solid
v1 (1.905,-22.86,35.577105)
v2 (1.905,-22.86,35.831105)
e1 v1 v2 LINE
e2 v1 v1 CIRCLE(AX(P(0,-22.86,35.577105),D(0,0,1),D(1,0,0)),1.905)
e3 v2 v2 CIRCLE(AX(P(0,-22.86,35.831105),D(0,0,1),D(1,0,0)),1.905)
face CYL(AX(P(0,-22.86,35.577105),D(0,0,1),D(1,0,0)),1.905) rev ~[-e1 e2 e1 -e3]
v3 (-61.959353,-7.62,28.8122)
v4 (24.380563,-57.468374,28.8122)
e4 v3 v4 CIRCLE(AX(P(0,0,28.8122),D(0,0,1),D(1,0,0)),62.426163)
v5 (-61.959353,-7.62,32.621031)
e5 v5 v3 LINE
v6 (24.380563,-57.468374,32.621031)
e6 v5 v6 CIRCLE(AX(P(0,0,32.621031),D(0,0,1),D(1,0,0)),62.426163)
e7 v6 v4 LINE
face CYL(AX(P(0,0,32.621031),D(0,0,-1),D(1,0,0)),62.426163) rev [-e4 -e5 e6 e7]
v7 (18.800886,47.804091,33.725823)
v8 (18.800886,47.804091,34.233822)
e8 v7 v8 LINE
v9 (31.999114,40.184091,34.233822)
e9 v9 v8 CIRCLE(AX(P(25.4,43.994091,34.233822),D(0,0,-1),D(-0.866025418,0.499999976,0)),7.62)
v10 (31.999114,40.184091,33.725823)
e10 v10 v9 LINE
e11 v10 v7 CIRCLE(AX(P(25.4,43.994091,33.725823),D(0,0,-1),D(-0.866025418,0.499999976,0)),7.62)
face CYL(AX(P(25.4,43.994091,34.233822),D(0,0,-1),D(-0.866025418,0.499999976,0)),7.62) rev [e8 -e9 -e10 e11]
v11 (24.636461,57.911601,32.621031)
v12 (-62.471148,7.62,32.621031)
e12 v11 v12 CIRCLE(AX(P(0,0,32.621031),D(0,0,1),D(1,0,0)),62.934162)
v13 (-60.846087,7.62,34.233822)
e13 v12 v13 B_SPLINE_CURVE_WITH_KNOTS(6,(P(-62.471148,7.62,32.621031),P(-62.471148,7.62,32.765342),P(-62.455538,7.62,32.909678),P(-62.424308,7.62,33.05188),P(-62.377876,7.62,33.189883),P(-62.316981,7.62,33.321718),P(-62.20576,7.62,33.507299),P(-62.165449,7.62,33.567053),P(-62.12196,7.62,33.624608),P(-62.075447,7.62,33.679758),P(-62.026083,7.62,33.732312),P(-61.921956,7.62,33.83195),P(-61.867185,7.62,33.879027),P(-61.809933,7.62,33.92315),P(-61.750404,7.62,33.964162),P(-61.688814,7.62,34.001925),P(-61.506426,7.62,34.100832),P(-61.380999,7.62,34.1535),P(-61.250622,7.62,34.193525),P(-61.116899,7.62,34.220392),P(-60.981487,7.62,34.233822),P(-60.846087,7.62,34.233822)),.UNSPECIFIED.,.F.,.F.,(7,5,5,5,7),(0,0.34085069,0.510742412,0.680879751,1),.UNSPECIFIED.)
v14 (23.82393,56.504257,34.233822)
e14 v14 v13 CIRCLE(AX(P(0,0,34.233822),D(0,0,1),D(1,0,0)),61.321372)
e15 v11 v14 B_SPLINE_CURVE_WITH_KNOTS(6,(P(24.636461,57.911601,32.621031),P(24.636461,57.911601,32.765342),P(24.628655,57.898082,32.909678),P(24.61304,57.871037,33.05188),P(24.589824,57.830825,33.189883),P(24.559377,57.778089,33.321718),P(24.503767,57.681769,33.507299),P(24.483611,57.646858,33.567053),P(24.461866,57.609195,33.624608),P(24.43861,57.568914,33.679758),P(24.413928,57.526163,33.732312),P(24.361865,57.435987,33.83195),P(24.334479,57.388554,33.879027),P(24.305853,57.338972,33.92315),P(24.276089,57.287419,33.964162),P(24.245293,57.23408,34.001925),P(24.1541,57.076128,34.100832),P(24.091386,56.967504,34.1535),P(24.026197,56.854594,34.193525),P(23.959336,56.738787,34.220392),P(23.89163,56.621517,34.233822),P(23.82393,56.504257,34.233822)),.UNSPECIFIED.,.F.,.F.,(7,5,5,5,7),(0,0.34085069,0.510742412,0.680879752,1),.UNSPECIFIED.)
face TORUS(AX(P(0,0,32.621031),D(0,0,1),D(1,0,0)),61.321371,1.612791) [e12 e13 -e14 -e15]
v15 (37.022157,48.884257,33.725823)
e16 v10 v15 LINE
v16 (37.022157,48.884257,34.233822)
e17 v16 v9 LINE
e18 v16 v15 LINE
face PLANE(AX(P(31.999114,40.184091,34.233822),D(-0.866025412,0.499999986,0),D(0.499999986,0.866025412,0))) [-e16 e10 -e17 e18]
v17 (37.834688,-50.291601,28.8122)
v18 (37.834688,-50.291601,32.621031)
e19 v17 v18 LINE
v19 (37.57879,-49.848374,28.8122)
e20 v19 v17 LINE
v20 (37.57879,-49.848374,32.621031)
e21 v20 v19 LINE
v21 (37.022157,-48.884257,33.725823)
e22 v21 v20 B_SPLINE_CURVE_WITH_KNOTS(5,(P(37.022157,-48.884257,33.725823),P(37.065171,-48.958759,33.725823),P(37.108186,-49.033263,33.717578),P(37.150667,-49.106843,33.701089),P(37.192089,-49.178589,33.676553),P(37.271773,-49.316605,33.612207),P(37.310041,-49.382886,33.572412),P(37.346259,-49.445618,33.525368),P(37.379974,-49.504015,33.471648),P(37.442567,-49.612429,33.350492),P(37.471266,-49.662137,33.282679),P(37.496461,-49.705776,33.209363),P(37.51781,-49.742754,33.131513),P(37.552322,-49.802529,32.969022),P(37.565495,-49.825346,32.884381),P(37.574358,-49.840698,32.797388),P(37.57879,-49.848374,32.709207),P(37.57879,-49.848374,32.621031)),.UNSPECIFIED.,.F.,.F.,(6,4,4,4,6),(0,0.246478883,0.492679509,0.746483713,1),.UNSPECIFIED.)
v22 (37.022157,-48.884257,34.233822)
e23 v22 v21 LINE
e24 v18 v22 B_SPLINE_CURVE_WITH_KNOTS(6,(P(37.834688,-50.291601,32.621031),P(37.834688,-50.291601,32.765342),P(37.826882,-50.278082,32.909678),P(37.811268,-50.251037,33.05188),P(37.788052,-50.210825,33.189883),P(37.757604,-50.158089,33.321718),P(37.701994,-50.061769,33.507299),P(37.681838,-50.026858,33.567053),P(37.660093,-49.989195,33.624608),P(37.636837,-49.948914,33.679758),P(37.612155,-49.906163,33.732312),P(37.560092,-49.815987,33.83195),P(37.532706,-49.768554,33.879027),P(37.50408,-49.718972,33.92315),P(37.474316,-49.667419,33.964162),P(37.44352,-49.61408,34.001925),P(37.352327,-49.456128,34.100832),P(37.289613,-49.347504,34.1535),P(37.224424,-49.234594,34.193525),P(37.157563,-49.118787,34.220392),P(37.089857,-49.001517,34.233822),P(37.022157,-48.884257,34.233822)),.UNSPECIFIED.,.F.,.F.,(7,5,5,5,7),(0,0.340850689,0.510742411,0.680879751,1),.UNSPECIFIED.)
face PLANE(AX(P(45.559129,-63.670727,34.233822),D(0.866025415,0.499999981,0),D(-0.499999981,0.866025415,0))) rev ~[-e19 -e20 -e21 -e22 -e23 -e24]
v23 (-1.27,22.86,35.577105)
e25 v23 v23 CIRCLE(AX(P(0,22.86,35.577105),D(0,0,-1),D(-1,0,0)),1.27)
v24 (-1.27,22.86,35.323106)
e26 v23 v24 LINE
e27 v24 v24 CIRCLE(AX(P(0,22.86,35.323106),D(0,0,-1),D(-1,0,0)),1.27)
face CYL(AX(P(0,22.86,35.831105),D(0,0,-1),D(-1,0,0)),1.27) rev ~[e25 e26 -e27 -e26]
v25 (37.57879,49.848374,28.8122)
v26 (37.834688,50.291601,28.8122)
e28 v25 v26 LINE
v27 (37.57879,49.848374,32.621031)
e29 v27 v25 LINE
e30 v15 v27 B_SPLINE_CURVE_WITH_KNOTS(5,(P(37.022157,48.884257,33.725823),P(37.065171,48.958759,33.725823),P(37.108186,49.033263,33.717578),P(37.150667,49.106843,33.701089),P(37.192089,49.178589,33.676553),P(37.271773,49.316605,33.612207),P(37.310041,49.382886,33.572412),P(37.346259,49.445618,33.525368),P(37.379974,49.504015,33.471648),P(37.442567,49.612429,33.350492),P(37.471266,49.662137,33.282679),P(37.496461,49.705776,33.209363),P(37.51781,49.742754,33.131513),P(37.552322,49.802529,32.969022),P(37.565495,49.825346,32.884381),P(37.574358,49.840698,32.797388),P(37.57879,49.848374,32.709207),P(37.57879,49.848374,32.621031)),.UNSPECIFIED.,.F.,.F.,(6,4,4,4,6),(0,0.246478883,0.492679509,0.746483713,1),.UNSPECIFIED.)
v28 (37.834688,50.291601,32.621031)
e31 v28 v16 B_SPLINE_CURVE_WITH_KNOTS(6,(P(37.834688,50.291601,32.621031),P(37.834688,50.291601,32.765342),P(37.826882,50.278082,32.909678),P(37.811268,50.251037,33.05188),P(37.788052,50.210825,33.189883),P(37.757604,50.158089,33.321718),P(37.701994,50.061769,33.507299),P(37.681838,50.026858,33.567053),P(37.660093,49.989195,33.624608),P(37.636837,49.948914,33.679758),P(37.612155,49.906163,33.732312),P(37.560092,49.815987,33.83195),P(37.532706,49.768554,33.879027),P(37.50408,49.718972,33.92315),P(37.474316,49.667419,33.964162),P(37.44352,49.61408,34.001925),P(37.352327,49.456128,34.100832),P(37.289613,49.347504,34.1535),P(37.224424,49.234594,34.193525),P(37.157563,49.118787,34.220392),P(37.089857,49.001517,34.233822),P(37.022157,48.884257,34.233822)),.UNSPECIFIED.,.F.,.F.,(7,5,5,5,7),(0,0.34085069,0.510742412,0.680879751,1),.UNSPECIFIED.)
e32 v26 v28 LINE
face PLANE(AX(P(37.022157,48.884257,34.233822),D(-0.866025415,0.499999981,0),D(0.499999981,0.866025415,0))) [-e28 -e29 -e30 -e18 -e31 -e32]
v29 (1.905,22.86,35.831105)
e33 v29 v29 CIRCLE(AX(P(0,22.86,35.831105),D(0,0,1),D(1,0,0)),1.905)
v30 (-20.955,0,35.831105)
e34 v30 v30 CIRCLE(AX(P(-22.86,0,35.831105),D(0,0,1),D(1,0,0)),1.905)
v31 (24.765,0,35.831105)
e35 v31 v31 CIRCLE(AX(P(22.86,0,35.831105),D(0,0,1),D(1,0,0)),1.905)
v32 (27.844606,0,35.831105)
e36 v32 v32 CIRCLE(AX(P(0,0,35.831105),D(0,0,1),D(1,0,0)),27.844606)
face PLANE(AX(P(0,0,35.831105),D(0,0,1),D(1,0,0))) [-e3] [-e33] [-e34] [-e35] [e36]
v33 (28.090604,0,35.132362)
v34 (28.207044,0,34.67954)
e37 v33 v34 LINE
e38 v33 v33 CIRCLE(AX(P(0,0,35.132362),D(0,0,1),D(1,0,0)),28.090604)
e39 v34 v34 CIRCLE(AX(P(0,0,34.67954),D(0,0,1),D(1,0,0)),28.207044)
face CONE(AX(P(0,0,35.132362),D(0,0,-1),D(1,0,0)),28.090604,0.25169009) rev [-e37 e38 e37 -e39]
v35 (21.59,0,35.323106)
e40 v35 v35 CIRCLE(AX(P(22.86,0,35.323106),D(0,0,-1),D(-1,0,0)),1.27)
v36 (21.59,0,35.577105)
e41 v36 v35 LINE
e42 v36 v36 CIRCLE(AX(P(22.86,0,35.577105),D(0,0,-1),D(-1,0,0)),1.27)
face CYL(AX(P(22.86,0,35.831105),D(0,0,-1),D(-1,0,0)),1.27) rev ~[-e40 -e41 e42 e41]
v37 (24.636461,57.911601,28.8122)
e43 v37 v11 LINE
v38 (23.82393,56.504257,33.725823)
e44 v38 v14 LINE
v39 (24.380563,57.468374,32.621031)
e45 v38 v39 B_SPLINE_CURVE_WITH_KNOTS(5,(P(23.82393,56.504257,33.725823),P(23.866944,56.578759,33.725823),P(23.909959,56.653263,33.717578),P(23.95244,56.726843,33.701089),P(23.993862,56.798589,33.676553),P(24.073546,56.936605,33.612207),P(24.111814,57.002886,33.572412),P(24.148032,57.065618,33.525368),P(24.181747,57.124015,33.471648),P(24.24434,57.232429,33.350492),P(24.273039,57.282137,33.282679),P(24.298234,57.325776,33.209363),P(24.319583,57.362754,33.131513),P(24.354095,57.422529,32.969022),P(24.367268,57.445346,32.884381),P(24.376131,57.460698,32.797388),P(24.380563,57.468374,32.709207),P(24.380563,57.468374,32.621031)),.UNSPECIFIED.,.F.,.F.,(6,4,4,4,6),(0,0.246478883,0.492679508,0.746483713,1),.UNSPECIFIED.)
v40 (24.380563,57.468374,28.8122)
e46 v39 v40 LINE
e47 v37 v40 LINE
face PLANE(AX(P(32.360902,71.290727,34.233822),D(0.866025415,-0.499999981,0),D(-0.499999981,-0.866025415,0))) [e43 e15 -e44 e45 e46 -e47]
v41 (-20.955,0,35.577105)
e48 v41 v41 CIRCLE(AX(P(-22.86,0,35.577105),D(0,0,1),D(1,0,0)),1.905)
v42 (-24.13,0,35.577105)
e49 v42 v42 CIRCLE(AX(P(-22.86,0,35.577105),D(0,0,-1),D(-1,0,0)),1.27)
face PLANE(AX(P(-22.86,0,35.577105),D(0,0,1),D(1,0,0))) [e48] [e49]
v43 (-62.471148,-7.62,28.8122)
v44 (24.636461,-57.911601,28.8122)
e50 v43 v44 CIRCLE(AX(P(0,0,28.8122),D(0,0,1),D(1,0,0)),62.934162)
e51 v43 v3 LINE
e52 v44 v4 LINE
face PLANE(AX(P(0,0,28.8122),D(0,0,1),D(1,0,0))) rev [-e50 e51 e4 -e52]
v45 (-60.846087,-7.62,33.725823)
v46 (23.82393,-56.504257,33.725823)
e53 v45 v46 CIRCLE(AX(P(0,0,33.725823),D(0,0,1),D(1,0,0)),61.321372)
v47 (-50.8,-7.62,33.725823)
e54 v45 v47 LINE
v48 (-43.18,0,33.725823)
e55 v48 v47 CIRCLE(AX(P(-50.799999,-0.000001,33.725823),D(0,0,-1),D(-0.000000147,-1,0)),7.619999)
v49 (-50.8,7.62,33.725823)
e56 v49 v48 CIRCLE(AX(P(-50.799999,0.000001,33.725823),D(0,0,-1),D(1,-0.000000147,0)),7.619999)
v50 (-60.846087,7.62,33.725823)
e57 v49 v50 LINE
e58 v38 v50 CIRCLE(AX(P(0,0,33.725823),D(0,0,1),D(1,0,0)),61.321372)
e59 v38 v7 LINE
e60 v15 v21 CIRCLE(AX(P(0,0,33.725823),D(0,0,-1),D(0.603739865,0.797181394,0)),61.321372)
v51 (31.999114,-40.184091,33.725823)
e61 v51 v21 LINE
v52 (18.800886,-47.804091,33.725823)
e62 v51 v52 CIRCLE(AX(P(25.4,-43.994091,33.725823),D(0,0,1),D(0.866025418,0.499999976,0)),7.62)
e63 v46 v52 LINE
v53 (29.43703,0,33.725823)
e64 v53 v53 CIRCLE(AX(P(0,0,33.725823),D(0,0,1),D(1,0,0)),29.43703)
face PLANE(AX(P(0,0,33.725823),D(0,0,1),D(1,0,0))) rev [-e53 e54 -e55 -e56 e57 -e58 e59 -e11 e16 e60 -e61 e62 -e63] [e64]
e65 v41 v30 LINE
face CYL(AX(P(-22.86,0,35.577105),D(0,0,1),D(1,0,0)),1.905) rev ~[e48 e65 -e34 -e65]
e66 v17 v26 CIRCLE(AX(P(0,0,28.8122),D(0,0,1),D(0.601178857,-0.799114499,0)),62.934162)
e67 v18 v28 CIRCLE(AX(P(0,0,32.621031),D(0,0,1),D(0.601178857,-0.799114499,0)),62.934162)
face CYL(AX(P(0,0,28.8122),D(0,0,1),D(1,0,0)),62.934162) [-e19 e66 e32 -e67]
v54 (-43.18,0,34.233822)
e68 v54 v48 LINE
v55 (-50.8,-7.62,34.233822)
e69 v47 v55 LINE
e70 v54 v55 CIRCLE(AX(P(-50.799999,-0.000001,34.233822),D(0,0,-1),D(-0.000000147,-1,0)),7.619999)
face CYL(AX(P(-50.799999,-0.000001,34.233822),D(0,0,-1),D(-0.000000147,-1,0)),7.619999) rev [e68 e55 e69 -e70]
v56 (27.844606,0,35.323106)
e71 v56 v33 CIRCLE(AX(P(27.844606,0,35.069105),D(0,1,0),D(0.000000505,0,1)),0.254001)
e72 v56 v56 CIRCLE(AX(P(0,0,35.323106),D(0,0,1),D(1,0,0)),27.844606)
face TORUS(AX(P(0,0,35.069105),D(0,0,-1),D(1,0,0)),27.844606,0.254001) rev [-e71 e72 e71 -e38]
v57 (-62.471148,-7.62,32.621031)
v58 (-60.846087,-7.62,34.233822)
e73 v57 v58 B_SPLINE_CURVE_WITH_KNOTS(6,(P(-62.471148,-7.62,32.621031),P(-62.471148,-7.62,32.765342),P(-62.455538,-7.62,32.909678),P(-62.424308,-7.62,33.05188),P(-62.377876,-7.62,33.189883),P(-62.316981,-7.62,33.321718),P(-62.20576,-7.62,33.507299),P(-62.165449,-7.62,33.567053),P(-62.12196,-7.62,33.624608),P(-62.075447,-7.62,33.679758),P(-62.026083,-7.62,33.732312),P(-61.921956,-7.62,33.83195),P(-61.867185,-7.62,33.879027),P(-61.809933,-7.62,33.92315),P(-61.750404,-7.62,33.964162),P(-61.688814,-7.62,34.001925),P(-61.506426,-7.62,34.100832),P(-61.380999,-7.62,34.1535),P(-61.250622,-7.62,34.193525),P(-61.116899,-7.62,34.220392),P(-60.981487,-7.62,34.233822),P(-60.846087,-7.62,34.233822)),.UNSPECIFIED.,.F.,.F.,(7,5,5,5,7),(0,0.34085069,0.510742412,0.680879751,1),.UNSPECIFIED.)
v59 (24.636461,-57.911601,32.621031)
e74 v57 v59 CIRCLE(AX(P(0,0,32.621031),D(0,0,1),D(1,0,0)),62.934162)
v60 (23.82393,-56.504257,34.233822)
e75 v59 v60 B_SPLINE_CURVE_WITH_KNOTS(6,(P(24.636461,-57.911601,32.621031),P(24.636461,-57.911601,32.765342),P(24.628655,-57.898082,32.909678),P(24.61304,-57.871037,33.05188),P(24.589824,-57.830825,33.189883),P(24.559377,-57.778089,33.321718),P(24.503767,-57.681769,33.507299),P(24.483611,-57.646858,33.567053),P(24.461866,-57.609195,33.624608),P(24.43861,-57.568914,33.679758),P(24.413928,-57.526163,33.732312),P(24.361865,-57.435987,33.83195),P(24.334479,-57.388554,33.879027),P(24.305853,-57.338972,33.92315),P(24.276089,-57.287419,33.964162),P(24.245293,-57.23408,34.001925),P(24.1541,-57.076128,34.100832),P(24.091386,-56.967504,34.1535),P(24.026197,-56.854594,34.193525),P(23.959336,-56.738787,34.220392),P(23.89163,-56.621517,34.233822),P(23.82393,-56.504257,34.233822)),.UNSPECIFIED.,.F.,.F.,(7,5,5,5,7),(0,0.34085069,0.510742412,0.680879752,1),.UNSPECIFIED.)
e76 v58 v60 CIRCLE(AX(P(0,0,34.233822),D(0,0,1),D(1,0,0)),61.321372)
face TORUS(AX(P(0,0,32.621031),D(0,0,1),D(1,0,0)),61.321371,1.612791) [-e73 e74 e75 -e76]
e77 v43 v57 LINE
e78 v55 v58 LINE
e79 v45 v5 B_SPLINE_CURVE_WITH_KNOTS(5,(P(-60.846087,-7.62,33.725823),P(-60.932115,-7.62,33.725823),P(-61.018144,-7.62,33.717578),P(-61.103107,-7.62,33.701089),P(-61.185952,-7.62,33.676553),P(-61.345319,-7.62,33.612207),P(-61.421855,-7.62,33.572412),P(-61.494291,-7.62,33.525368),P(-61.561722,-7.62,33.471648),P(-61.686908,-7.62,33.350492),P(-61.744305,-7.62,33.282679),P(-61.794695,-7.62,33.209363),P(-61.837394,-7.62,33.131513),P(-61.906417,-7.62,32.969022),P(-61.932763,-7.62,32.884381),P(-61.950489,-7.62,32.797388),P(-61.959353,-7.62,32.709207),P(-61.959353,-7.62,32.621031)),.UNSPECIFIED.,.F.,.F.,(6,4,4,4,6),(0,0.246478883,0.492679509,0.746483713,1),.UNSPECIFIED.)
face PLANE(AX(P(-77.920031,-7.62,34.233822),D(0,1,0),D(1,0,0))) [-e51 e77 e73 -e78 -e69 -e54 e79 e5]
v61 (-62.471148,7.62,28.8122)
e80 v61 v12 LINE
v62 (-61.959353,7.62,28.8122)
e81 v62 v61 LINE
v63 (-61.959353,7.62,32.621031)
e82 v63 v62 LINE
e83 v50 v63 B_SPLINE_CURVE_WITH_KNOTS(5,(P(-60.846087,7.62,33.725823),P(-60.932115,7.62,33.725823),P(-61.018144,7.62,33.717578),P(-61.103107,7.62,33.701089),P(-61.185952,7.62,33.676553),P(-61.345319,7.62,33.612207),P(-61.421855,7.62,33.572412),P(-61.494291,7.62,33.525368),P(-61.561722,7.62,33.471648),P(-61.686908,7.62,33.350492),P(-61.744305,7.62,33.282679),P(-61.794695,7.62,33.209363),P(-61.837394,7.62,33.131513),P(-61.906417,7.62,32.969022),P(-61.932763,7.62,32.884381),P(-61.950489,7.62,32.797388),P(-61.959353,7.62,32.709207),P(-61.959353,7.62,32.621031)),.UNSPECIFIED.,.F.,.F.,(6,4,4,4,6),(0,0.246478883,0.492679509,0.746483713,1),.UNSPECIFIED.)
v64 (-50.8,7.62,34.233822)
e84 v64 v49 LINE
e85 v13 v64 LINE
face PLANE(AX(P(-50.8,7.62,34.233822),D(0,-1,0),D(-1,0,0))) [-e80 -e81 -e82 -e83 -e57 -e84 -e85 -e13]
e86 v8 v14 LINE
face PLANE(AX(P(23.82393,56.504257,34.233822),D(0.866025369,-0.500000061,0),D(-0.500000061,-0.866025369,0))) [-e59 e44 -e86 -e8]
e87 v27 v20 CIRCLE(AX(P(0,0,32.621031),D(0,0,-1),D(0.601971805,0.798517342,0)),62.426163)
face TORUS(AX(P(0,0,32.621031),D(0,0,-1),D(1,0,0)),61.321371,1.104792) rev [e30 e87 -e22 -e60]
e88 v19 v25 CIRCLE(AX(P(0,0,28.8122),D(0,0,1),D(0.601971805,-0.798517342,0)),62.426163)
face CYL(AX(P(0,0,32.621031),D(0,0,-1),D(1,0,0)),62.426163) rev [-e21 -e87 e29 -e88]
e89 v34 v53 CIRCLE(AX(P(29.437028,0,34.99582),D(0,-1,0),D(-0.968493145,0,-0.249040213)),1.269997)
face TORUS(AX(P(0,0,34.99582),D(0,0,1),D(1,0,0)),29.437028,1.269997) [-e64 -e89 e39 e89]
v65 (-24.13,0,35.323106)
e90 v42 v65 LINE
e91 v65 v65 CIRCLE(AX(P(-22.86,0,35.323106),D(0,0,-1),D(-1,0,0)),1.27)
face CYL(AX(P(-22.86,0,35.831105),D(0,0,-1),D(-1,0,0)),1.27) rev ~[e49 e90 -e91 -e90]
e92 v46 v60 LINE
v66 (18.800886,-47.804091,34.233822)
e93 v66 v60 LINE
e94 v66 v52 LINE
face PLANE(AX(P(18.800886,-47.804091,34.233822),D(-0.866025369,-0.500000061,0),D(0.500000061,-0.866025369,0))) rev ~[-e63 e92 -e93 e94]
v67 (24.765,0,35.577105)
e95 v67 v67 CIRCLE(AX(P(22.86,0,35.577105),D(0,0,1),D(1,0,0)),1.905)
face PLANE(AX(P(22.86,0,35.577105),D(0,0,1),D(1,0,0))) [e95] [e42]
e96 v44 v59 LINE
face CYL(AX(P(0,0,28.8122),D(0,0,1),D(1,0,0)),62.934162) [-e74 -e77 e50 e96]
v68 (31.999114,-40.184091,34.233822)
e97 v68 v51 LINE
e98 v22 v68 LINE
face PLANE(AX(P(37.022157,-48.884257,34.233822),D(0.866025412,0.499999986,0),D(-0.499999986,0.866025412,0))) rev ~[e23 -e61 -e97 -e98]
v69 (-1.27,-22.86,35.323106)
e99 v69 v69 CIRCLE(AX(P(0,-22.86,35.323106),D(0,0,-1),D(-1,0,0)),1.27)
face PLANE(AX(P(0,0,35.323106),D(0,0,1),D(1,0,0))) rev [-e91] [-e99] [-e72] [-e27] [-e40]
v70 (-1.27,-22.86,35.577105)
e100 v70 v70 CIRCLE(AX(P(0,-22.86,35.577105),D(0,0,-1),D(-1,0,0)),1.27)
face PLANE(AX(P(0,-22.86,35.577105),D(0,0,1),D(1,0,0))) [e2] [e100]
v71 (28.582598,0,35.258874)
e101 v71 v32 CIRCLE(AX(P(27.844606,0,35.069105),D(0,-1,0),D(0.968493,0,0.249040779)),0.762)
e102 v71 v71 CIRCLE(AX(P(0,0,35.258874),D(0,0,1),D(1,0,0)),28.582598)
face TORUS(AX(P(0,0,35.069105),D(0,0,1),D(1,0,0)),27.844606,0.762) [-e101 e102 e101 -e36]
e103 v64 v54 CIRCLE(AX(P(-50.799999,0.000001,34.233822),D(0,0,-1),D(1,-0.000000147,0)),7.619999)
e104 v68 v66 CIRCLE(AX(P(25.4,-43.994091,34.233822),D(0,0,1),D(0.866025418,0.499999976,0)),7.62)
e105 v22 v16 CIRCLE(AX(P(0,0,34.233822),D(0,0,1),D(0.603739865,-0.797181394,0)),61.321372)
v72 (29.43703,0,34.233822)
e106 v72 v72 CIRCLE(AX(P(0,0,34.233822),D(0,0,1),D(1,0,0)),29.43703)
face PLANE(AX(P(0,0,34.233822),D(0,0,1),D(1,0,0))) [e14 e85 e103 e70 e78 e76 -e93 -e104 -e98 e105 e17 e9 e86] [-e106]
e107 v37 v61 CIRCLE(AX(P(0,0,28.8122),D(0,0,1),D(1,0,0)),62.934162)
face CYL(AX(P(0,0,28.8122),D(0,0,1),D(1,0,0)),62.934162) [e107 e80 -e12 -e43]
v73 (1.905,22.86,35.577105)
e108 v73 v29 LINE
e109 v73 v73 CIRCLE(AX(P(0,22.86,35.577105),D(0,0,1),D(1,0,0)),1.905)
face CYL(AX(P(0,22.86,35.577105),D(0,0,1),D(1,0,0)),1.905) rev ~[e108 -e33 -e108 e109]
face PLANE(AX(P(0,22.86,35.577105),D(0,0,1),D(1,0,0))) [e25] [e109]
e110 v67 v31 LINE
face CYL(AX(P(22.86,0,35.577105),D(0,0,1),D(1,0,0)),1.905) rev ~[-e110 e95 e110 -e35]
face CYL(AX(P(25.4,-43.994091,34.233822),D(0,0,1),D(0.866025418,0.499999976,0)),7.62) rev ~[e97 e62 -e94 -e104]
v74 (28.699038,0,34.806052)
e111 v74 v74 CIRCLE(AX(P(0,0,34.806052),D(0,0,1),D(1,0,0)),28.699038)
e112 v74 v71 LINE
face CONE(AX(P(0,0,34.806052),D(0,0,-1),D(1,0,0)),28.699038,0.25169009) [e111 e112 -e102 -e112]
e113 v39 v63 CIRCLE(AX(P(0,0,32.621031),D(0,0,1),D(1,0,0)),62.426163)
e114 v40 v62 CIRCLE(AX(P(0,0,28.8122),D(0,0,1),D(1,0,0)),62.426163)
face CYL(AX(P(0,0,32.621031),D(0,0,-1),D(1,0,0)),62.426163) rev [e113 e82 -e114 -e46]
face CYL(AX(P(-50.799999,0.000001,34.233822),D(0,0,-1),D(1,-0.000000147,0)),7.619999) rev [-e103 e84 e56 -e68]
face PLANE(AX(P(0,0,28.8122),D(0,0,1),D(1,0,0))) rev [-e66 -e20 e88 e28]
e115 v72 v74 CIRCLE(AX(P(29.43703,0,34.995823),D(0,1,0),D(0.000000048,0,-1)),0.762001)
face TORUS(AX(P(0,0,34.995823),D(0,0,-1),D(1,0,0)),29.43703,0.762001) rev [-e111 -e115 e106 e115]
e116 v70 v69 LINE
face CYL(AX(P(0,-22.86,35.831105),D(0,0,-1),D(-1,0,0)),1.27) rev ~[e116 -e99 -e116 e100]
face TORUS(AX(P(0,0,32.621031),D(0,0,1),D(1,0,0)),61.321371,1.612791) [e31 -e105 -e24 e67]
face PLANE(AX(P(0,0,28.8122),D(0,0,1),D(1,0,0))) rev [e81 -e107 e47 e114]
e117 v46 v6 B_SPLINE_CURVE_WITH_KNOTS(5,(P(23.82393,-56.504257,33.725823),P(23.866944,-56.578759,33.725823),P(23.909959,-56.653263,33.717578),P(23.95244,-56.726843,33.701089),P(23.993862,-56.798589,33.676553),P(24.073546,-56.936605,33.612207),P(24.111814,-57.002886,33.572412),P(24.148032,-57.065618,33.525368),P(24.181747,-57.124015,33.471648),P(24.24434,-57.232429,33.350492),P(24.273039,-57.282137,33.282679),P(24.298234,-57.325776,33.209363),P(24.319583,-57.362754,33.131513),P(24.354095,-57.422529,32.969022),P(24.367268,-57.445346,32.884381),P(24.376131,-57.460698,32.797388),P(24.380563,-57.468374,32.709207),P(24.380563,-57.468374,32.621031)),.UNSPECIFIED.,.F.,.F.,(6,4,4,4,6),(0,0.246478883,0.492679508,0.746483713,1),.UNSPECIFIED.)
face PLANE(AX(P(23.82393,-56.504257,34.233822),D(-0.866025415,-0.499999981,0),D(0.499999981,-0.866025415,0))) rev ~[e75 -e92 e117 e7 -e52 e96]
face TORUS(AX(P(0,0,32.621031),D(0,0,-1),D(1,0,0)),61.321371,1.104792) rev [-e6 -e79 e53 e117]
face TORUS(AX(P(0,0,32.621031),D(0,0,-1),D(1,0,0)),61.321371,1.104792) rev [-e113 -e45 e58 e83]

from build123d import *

# Parameters (mm, degrees)
F4_D           = 2.54
F4_CBORE_D     = 3.81
F4_CBORE_DEPTH = 0.254
F6_DEPTH       = 12.7


with BuildPart() as f2:
    # F0 (on Front) → F2 (revolve)
    with BuildSketch(Plane.XZ):
        with BuildLine():
            Line((61.321372, 34.233822), (29.43703, 34.233822))
            ThreePointArc((29.43703, 34.233822), (28.970104, 34.393639), (28.699038, 34.806052))
            Line((28.699038, 34.806052), (28.582598, 35.258874))
            ThreePointArc((28.582598, 35.258874), (28.311532, 35.671288), (27.844606, 35.831105))
            Line((27.844606, 35.831105), (0, 35.831105))
            Line((0, 35.831105), (0, 35.323106))
            Line((0, 35.323106), (27.844606, 35.323106))
            ThreePointArc((27.844606, 35.323106), (28.000249, 35.269833), (28.090604, 35.132362))
            Line((28.090604, 35.132362), (28.207044, 34.67954))
            ThreePointArc((28.207044, 34.67954), (28.65882, 33.992184), (29.43703, 33.725823))
            Line((29.43703, 33.725823), (61.321372, 33.725823))
            ThreePointArc((61.321372, 33.725823), (62.102577, 33.402237), (62.426163, 32.621031))
            Line((62.426163, 32.621031), (62.426163, 28.8122))
            Line((62.426163, 28.8122), (62.934162, 28.8122))
            Line((62.934162, 28.8122), (62.934162, 32.621031))
            ThreePointArc((62.934162, 32.621031), (62.461787, 33.761446), (61.321372, 34.233822))
        make_face()
    revolve(axis=Axis((0, 0, 53.538602), (0, 0, 1)))

    # F4 (through all)
    with Locations(Plane.XY.offset(35.831105)):
        with Locations((0, 22.86), (-22.86, 0), (0, -22.86), (22.86, 0)):
            CounterBoreHole(F4_D / 2, F4_CBORE_D / 2, F4_CBORE_DEPTH)

    # F5 (on face) → F6 (cut, symmetric)
    with BuildSketch(Plane.XY.offset(34.233822)):
        with BuildLine():
            Line((-77.920031, 0), (-61.321372, 0))
            ThreePointArc((-61.321372, 0), (-61.202435, 3.817404), (-60.846086, 7.62))
            Line((-60.846086, 7.62), (-77.920031, 7.62))
            Line((-77.920031, 7.62), (-77.920031, 0))
        make_face()
        with BuildLine():
            Line((-77.920031, -7.62), (-60.846086, -7.62))
            ThreePointArc((-60.846086, -7.62), (-61.202435, -3.817404), (-61.321372, 0))
            Line((-61.321372, 0), (-77.920031, 0))
            Line((-77.920031, 0), (-77.920031, -7.62))
        make_face()
        with BuildLine():
            Line((-60.846086, -7.62), (-50.8, -7.62))
            ThreePointArc((-50.8, -7.62), (-45.411846, -5.388154), (-43.18, 0))
            Line((-43.18, 0), (-61.321372, 0))
            ThreePointArc((-61.321372, 0), (-61.202435, -3.817404), (-60.846086, -7.62))
        make_face()
        with BuildLine():
            Line((-61.321372, 0), (-43.18, 0))
            ThreePointArc((-43.18, 0), (-45.411846, 5.388154), (-50.8, 7.62))
            Line((-50.8, 7.62), (-60.846086, 7.62))
            ThreePointArc((-60.846086, 7.62), (-61.202435, 3.817404), (-61.321372, 0))
        make_face()
        with BuildLine():
            Line((32.360902, 71.290727), (23.82393, 56.504257))
            ThreePointArc((23.82393, 56.504257), (30.660686, 53.105866), (37.022157, 48.884257))
            Line((37.022157, 48.884257), (45.559129, 63.670727))
            Line((45.559129, 63.670727), (32.360902, 71.290727))
        make_face()
        with BuildLine():
            ThreePointArc((37.022157, 48.884257), (30.660686, 53.105866), (23.82393, 56.504257))
            Line((23.82393, 56.504257), (18.800886, 47.804091))
            ThreePointArc((18.800886, 47.804091), (21.59, 37.394977), (31.999114, 40.184091))
            Line((31.999114, 40.184091), (37.022157, 48.884257))
        make_face()
        with BuildLine():
            Line((18.800886, -47.804091), (23.82393, -56.504257))
            ThreePointArc((23.82393, -56.504257), (30.660686, -53.105866), (37.022157, -48.884257))
            Line((37.022157, -48.884257), (31.999114, -40.184091))
            ThreePointArc((31.999114, -40.184091), (21.59, -37.394977), (18.800886, -47.804091))
        make_face()
        with BuildLine():
            ThreePointArc((37.022157, -48.884257), (30.660686, -53.105866), (23.82393, -56.504257))
            Line((23.82393, -56.504257), (32.360902, -71.290727))
            Line((32.360902, -71.290727), (45.559129, -63.670727))
            Line((45.559129, -63.670727), (37.022157, -48.884257))
        make_face()
    extrude(amount=F6_DEPTH, both=True, mode=Mode.SUBTRACT)


solid = f2.part
